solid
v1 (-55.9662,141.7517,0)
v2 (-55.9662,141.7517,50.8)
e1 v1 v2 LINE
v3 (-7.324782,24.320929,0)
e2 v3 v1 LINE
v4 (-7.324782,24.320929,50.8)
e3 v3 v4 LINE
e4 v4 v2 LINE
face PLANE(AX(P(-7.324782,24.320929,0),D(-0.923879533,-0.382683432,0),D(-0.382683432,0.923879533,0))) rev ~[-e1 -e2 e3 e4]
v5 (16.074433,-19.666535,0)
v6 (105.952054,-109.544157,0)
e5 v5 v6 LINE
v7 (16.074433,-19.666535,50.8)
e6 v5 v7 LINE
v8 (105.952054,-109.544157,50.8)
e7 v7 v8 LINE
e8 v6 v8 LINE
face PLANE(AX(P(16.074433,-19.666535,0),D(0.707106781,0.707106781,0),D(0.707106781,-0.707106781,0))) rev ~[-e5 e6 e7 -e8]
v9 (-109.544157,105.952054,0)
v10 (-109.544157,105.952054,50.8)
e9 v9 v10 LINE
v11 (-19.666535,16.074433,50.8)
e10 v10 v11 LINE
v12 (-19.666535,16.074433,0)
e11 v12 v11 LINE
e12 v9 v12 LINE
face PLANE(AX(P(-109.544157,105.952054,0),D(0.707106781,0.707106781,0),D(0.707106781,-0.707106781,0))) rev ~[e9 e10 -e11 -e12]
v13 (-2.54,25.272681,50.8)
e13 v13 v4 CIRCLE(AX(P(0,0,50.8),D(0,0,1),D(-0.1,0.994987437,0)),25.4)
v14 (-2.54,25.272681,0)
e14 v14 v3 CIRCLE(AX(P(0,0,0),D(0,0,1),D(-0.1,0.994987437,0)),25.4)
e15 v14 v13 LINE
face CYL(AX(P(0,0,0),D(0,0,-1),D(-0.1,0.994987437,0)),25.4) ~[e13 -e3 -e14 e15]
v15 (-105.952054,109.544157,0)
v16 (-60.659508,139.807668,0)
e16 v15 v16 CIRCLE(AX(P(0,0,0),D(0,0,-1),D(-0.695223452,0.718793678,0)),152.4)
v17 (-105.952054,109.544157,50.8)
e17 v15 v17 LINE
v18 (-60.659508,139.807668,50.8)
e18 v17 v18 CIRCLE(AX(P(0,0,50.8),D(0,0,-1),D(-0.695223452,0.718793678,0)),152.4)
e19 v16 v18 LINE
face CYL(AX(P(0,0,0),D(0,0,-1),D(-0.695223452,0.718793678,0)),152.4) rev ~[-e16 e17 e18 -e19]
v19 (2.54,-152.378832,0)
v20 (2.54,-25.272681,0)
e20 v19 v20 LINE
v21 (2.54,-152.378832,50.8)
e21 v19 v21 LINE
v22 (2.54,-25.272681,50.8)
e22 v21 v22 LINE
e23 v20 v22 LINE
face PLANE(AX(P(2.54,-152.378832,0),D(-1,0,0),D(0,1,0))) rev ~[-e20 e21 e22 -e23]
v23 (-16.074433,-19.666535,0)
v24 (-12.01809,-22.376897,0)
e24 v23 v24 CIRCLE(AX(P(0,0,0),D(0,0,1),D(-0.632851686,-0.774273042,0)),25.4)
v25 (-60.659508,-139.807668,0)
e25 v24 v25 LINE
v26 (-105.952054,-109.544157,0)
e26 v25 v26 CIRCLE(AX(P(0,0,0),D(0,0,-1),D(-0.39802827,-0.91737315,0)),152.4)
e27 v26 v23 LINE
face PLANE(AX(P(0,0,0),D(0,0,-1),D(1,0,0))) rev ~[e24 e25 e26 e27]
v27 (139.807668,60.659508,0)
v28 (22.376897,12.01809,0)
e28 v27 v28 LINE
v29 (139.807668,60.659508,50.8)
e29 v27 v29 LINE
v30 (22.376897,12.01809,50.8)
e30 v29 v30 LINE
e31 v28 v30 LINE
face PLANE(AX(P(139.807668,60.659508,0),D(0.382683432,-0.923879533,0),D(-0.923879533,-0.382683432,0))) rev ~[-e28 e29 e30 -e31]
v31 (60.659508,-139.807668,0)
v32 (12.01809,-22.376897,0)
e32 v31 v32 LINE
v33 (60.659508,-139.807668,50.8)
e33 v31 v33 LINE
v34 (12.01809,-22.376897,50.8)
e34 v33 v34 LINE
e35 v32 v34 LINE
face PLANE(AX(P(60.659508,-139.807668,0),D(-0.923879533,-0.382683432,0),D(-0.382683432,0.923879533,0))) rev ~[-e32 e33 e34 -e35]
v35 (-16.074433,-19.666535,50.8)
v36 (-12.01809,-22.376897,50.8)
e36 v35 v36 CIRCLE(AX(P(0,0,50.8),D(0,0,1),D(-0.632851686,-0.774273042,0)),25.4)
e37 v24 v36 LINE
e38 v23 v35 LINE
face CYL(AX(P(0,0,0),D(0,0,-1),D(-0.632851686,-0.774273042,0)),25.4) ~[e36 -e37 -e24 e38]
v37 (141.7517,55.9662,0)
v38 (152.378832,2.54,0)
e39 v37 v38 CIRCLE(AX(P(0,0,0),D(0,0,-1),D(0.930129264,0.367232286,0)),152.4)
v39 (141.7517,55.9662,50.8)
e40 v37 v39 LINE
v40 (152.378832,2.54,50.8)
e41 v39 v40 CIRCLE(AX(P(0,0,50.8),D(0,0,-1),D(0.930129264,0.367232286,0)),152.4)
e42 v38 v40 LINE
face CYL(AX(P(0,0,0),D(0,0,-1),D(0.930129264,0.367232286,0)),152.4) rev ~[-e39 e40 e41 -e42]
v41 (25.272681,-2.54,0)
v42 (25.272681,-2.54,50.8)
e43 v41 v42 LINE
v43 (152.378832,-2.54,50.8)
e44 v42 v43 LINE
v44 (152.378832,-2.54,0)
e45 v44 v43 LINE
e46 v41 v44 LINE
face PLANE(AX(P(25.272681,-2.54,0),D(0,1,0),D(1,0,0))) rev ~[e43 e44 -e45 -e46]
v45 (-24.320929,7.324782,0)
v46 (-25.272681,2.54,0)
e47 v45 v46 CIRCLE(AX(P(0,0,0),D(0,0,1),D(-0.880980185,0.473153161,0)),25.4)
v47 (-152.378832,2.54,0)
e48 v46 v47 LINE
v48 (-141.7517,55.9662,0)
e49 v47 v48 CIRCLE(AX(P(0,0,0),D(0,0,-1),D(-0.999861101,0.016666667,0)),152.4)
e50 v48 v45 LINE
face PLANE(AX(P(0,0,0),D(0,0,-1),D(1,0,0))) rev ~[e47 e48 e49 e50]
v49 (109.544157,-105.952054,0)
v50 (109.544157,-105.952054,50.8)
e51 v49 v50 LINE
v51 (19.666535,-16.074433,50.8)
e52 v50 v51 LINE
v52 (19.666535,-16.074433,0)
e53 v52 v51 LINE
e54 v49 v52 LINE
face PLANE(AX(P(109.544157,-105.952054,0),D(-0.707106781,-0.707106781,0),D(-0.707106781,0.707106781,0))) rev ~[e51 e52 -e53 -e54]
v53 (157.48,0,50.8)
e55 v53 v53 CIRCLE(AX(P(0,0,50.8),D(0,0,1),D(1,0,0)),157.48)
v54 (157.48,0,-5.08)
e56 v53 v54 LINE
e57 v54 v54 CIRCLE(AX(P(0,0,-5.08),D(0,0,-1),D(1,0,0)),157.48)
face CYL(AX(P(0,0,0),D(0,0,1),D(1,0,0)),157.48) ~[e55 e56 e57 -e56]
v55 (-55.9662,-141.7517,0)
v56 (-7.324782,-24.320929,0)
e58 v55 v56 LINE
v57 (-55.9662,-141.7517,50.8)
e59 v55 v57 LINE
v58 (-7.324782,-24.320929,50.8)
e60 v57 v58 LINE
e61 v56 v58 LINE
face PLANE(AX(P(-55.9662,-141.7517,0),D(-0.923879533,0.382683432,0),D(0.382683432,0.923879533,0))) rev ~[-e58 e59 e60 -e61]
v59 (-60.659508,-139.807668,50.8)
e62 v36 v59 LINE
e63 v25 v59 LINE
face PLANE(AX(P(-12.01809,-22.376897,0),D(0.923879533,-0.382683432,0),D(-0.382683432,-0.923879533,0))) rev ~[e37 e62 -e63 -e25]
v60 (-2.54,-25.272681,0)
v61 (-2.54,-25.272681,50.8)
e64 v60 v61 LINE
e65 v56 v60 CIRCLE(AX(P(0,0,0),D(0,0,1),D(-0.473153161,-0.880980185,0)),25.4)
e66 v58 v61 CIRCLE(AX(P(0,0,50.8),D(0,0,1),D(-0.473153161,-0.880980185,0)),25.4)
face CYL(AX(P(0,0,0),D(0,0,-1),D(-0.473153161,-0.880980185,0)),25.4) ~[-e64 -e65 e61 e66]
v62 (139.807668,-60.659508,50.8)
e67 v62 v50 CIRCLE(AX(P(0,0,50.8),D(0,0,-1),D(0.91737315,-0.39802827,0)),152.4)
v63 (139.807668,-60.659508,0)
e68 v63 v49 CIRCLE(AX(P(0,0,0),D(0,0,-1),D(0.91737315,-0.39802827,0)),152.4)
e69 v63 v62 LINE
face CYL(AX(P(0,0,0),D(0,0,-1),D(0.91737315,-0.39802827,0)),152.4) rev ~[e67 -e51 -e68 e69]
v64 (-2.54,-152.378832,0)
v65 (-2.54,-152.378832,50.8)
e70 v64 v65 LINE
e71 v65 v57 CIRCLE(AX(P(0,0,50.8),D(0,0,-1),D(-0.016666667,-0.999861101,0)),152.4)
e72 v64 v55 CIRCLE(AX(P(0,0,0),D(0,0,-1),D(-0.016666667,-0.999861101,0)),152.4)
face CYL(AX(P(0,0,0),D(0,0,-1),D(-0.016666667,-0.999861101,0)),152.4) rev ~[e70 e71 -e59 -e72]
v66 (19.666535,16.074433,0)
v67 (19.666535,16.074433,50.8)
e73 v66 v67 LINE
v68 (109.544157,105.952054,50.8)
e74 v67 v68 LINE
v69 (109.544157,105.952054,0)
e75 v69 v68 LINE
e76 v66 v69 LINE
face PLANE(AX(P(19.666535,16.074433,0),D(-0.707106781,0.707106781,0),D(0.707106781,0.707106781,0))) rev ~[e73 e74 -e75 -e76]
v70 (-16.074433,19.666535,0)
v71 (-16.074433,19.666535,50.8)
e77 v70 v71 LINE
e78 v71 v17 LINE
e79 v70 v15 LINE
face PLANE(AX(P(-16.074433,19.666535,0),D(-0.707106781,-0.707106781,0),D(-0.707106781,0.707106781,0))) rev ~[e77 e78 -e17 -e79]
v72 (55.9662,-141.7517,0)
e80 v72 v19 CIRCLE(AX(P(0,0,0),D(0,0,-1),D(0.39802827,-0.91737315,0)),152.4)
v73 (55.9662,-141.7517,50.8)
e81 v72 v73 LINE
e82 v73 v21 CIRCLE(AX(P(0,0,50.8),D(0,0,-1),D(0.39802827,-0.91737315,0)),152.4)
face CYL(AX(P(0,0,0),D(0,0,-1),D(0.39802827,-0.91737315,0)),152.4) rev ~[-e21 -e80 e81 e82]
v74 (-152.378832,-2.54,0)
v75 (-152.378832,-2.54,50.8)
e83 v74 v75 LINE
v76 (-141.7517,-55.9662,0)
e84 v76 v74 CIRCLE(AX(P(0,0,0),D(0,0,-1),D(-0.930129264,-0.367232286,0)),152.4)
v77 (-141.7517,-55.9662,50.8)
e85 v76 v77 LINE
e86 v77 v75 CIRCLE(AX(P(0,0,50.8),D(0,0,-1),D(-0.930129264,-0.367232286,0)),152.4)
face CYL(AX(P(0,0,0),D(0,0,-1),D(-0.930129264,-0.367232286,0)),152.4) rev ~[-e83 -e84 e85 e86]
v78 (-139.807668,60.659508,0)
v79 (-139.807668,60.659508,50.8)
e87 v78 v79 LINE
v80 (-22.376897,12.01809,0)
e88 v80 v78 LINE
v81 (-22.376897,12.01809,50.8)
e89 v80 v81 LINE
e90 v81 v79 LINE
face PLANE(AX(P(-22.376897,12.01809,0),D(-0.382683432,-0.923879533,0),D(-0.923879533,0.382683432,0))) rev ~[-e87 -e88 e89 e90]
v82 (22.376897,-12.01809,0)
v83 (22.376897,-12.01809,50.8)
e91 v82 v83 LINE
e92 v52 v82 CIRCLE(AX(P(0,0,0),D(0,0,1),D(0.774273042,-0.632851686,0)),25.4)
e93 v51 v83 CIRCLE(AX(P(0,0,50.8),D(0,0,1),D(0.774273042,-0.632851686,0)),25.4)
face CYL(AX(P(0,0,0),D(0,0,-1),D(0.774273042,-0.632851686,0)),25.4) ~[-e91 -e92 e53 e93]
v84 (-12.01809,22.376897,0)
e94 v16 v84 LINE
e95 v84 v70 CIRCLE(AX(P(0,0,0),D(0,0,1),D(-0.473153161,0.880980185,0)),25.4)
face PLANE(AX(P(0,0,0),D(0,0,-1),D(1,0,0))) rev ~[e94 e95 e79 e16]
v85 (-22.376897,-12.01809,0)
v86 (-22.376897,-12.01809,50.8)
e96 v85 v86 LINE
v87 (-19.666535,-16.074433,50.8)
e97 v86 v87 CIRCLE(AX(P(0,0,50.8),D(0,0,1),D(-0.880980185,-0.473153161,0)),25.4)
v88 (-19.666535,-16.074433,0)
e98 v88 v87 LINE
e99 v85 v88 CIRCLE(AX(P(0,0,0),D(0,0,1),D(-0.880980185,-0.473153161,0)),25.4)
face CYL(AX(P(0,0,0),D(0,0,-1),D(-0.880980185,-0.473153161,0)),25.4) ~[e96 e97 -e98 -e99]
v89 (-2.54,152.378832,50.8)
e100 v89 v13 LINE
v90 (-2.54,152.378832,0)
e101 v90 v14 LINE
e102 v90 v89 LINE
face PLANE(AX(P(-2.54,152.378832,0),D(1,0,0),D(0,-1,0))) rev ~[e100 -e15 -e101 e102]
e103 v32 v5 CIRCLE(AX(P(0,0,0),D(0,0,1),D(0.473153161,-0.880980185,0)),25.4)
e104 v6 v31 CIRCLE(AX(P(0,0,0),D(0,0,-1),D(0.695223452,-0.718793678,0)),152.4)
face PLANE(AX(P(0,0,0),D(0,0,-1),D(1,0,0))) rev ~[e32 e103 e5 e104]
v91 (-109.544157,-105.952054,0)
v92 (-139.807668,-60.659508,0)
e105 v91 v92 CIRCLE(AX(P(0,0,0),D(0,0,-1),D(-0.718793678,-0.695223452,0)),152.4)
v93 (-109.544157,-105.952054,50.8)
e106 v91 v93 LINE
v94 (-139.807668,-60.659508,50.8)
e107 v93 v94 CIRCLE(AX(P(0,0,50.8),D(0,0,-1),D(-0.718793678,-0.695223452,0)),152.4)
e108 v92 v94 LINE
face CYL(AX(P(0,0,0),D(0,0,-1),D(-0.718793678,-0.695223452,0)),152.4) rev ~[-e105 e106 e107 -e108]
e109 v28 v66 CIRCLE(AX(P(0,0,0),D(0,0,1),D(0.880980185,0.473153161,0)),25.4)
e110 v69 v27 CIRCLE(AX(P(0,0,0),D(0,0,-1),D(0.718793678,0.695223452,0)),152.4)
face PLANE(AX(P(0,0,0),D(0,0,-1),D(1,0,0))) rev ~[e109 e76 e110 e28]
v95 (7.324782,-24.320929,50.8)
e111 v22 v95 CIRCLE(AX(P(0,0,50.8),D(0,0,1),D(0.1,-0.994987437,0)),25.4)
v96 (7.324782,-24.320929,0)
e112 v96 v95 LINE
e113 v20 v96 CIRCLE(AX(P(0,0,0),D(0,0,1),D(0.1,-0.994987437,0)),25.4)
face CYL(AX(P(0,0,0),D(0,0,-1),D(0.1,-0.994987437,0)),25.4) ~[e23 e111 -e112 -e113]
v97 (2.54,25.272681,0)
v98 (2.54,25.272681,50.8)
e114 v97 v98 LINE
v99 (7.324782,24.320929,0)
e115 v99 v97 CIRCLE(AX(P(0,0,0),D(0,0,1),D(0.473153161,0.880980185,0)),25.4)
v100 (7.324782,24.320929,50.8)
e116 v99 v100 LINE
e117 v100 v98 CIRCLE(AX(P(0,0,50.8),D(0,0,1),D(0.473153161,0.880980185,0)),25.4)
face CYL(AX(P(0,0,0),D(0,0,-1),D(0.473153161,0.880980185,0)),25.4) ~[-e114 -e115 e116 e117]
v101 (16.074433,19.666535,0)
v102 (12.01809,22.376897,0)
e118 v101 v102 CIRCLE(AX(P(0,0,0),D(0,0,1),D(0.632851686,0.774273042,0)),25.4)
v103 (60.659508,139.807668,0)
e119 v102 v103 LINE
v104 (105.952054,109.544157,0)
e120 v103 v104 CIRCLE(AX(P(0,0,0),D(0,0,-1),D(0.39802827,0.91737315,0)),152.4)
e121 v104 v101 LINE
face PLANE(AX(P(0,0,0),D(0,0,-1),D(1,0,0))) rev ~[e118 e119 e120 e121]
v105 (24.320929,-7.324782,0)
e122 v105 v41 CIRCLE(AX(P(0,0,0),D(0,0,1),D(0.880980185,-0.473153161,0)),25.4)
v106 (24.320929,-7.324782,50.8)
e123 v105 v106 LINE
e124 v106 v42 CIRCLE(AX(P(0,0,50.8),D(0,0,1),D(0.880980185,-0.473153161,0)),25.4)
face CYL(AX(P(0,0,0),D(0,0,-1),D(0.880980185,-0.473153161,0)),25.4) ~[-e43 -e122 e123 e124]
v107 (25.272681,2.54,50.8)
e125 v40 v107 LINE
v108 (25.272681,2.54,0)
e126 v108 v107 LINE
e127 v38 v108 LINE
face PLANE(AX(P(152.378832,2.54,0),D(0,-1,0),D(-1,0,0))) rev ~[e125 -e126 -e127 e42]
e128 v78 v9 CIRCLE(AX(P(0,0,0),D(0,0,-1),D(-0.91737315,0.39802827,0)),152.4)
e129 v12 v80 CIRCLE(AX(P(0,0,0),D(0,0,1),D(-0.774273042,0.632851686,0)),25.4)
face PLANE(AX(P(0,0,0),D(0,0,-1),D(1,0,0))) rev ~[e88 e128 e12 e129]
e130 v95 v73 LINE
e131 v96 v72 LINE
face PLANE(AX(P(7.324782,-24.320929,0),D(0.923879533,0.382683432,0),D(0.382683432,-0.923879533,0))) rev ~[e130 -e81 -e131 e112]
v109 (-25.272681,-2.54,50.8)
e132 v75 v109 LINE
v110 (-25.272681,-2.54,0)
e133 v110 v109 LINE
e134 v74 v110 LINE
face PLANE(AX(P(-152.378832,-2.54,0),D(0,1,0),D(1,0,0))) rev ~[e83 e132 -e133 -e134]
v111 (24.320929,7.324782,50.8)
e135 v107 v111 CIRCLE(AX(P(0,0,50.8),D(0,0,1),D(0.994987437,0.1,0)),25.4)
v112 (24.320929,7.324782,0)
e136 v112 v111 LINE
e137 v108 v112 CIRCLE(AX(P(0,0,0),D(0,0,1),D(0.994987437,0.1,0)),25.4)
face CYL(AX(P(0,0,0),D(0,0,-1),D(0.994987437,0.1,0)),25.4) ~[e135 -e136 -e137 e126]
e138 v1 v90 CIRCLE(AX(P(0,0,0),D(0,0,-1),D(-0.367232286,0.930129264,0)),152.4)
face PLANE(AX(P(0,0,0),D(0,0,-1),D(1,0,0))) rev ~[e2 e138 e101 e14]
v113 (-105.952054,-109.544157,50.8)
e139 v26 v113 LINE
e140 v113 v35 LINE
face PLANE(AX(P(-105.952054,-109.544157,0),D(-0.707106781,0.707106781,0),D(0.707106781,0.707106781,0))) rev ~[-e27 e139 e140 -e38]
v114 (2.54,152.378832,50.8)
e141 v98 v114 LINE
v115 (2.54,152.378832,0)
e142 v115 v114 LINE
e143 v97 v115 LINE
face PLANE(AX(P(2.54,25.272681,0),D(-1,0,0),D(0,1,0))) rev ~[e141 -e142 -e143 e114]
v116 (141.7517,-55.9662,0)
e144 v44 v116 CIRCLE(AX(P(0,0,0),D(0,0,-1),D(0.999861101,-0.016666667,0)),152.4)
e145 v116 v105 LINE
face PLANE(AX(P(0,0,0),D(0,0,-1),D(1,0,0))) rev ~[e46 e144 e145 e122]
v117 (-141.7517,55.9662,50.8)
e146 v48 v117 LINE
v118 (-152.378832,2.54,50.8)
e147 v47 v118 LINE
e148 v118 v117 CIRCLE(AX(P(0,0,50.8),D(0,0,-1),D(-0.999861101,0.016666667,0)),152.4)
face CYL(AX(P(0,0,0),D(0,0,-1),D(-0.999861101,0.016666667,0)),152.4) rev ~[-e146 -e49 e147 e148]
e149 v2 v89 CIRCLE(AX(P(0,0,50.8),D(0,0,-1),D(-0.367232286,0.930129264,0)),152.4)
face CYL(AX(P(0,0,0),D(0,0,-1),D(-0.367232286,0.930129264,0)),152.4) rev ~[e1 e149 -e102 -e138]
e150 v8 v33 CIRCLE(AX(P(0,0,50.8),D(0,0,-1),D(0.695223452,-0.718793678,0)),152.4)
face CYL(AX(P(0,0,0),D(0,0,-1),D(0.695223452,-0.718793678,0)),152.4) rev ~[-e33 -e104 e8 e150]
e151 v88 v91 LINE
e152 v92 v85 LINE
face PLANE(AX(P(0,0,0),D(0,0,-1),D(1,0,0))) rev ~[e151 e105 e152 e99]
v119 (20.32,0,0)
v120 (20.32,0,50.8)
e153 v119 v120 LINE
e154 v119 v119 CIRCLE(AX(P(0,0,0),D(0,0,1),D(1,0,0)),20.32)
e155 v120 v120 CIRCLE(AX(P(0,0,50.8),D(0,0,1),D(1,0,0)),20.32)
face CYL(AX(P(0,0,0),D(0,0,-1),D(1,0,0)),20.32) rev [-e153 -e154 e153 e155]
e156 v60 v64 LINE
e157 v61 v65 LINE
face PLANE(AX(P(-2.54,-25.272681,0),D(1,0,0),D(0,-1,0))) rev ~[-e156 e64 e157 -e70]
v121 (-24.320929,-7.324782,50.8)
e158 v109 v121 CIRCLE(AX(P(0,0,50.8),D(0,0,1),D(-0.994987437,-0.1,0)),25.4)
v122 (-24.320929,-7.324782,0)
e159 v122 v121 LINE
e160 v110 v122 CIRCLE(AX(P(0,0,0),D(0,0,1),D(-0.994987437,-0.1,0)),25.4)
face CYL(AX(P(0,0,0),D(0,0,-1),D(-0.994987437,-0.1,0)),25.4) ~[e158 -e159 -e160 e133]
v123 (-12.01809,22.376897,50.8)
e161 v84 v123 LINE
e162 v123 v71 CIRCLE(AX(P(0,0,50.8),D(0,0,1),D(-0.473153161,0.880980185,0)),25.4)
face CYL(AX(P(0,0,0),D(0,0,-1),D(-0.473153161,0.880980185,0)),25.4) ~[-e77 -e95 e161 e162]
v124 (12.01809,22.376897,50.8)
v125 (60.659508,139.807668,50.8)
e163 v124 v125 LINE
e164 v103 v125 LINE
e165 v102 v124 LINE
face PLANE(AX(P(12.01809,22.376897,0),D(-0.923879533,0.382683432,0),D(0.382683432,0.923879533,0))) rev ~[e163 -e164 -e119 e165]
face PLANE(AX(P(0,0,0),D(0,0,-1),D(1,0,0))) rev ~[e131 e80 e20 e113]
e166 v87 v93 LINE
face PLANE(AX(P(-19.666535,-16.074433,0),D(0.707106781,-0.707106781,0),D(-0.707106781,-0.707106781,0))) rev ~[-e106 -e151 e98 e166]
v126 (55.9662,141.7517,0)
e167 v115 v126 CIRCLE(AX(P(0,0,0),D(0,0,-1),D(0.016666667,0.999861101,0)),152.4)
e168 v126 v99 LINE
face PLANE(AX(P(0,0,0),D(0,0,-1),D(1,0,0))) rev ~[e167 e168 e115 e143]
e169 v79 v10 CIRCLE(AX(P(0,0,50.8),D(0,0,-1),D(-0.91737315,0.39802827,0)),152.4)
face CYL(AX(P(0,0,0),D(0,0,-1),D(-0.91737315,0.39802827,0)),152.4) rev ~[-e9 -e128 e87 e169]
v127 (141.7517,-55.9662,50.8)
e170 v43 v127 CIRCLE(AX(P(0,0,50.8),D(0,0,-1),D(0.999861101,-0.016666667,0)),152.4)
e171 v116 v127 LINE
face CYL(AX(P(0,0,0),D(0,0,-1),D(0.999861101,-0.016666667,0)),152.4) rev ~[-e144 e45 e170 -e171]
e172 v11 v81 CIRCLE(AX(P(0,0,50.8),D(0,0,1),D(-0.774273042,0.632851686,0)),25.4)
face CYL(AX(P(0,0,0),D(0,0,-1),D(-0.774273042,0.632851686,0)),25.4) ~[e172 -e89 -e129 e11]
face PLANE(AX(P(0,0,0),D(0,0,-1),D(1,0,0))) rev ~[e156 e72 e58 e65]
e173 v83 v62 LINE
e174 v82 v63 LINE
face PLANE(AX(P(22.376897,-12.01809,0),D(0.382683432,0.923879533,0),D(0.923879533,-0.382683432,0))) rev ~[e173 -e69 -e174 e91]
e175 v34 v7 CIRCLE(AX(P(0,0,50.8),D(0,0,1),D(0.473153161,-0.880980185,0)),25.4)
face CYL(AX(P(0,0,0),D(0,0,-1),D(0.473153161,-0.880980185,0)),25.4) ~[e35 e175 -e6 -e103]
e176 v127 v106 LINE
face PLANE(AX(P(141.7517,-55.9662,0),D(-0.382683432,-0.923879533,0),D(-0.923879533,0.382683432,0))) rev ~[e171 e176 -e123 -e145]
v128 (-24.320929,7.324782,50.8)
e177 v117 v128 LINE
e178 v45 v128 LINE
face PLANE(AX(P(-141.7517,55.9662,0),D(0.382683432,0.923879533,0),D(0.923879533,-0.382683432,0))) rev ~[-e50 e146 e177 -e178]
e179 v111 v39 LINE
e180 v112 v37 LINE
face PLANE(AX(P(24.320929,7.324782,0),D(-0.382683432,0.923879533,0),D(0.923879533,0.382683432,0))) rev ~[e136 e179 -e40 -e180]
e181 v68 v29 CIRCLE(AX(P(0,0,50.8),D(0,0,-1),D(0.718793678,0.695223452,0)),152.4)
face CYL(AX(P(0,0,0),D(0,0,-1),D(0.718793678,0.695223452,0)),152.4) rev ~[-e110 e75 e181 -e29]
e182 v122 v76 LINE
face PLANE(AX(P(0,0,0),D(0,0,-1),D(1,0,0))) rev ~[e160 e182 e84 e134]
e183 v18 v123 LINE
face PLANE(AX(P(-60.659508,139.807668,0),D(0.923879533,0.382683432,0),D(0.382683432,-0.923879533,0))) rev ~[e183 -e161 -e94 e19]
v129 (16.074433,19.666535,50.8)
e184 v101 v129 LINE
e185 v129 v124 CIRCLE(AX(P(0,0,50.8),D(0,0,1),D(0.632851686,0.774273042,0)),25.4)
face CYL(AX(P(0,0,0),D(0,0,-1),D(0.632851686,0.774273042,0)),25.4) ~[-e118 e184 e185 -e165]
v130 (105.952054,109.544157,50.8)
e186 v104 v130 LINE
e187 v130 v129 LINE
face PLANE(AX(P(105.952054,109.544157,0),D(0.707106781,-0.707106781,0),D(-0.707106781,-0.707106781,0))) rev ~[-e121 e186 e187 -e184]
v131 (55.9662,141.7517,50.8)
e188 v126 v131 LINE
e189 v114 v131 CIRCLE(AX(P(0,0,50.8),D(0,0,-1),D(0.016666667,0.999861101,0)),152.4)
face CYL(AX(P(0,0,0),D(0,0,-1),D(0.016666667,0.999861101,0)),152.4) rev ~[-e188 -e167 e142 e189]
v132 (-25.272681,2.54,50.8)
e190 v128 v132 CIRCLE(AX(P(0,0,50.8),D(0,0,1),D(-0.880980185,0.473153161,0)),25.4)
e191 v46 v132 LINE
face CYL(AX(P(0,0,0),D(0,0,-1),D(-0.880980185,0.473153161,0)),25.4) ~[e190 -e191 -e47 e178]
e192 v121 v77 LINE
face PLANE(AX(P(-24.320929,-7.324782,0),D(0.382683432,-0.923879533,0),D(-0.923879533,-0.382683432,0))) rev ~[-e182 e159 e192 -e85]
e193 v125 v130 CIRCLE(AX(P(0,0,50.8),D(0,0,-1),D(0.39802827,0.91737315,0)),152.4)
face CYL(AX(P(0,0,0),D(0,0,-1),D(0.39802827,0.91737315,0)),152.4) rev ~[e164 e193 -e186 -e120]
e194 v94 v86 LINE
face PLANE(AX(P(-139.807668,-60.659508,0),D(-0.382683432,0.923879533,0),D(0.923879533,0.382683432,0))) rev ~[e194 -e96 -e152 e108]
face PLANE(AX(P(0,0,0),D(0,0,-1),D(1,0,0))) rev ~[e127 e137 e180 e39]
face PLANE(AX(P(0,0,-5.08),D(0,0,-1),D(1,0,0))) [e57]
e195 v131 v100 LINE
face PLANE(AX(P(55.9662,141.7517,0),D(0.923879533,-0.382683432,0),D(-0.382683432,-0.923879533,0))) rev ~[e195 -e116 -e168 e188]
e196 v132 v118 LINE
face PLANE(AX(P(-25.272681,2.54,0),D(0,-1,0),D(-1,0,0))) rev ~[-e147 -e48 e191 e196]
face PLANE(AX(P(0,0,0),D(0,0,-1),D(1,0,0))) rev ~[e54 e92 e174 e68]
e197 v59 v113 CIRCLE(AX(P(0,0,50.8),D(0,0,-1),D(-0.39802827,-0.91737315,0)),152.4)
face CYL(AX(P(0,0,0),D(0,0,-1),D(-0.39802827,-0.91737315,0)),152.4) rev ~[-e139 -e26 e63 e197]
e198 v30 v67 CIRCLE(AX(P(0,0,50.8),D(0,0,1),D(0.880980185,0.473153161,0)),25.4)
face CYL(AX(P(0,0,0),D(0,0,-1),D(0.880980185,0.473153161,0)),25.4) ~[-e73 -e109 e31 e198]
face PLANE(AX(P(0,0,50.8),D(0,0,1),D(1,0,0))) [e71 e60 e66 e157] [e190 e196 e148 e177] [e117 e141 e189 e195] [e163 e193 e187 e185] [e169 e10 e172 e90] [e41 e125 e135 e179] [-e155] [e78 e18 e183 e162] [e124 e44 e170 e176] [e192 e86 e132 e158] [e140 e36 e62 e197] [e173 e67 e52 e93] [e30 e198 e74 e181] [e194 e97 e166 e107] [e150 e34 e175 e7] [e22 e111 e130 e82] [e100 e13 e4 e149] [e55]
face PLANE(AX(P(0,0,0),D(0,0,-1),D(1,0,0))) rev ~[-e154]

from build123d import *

# Parameters (mm, degrees)
F0_R     = 157.48
F0_R_2   = 20.32
F1_DEPTH = 50.8
F2_R     = 157.48
F3_DEPTH = 5.08


with BuildPart() as f1:
    # F0 (on Top) → F1 (new body)
    with BuildSketch(Plane.XY):
        Circle(F0_R)
        with BuildLine():
            ThreePointArc((152.3788318632, 2.54), (152.3947078739, 1.2700441026), (152.4, 0))
            ThreePointArc((152.4, 0), (152.3947078739, -1.2700441026), (152.3788318632, -2.54))
            ThreePointArc((152.3788318632, -2.54), (149.4716767335, -29.7317650753), (141.7516998646, -55.9662003846))
            ThreePointArc((141.7516998646, -55.9662003846), (140.7992407547, -58.3209550924), (139.8076680282, -60.6595084097))
            ThreePointArc((139.8076680282, -60.6595084097), (126.7159689149, -84.6689035121), (109.544156544, -105.9520540955))
            ThreePointArc((109.544156544, -105.9520540955), (107.7630734528, -107.7630734528), (105.9520540956, -109.544156544))
            ThreePointArc((105.9520540956, -109.544156544), (84.6689035122, -126.7159689149), (60.6595084097, -139.8076680282))
            ThreePointArc((60.6595084097, -139.8076680282), (58.3209550924, -140.7992407547), (55.9662003846, -141.7516998646))
            ThreePointArc((55.9662003846, -141.7516998646), (29.7317650753, -149.4716767335), (2.54, -152.3788318632))
            ThreePointArc((2.54, -152.3788318632), (0, -152.4), (-2.54, -152.3788318632))
            ThreePointArc((-2.54, -152.3788318632), (-29.7317650753, -149.4716767335), (-55.9662003846, -141.7516998646))
            ThreePointArc((-55.9662003846, -141.7516998646), (-58.3209550924, -140.7992407547), (-60.6595084098, -139.8076680282))
            ThreePointArc((-60.6595084098, -139.8076680282), (-84.6689035122, -126.7159689149), (-105.9520540955, -109.544156544))
            ThreePointArc((-105.9520540955, -109.544156544), (-107.7630734528, -107.7630734528), (-109.544156544, -105.9520540955))
            ThreePointArc((-109.544156544, -105.9520540955), (-126.7159689149, -84.6689035122), (-139.8076680282, -60.6595084098))
            ThreePointArc((-139.8076680282, -60.6595084098), (-140.7992407547, -58.3209550924), (-141.7516998646, -55.9662003846))
            ThreePointArc((-141.7516998646, -55.9662003846), (-149.4716767335, -29.7317650752), (-152.3788318632, -2.54))
            ThreePointArc((-152.3788318632, -2.54), (-152.4, 0), (-152.3788318632, 2.54))
            ThreePointArc((-152.3788318632, 2.54), (-149.4716767335, 29.7317650752), (-141.7516998646, 55.9662003846))
            ThreePointArc((-141.7516998646, 55.9662003846), (-140.7992407547, 58.3209550924), (-139.8076680282, 60.6595084098))
            ThreePointArc((-139.8076680282, 60.6595084098), (-126.7159689149, 84.6689035122), (-109.544156544, 105.9520540955))
            ThreePointArc((-109.544156544, 105.9520540955), (-107.7630734529, 107.7630734528), (-105.9520540956, 109.544156544))
            ThreePointArc((-105.9520540956, 109.544156544), (-84.6689035122, 126.7159689149), (-60.6595084098, 139.8076680282))
            ThreePointArc((-60.6595084098, 139.8076680282), (-58.3209550924, 140.7992407547), (-55.9662003846, 141.7516998646))
            ThreePointArc((-55.9662003846, 141.7516998646), (-29.7317650752, 149.4716767335), (-2.54, 152.3788318632))
            ThreePointArc((-2.54, 152.3788318632), (0, 152.4), (2.54, 152.3788318632))
            ThreePointArc((2.54, 152.3788318632), (29.7317650752, 149.4716767335), (55.9662003846, 141.7516998646))
            ThreePointArc((55.9662003846, 141.7516998646), (58.3209550924, 140.7992407547), (60.6595084098, 139.8076680282))
            ThreePointArc((60.6595084098, 139.8076680282), (84.6689035122, 126.7159689149), (105.9520540956, 109.544156544))
            ThreePointArc((105.9520540956, 109.544156544), (107.7630734528, 107.7630734528), (109.544156544, 105.9520540956))
            ThreePointArc((109.544156544, 105.9520540956), (126.7159689149, 84.6689035122), (139.8076680282, 60.6595084098))
            ThreePointArc((139.8076680282, 60.6595084098), (140.7992407547, 58.3209550924), (141.7516998646, 55.9662003846))
            ThreePointArc((141.7516998646, 55.9662003846), (149.4716767335, 29.7317650753), (152.3788318632, 2.54))
        make_face(mode=Mode.SUBTRACT)
        with BuildLine():
            Line((-7.3247822603, 24.3209285357), (-55.9662003846, 141.7516998646))
            ThreePointArc((-55.9662003846, 141.7516998646), (-58.3209550924, 140.7992407547), (-60.6595084098, 139.8076680282))
            Line((-60.6595084098, 139.8076680282), (-12.0180902854, 22.3768966993))
            ThreePointArc((-12.0180902854, 22.3768966993), (-9.7201591821, 23.4665401258), (-7.3247822603, 24.3209285357))
        make_face()
        with BuildLine():
            Line((-16.0744328207, 19.6665352691), (-105.9520540956, 109.5441565439))
            ThreePointArc((-105.9520540956, 109.544156544), (-107.7630734529, 107.7630734528), (-109.544156544, 105.9520540955))
            Line((-109.544156544, 105.9520540955), (-19.6665352691, 16.0744328207))
            ThreePointArc((-19.6665352691, 16.0744328207), (-17.9605122421, 17.9605122421), (-16.0744328207, 19.6665352691))
        make_face()
        with BuildLine():
            Line((-22.3768966993, 12.0180902854), (-139.8076680282, 60.6595084098))
            ThreePointArc((-139.8076680282, 60.6595084098), (-140.7992407547, 58.3209550924), (-141.7516998646, 55.9662003846))
            Line((-141.7516998646, 55.9662003846), (-24.3209285357, 7.3247822603))
            ThreePointArc((-24.3209285357, 7.3247822603), (-23.4665401258, 9.7201591821), (-22.3768966993, 12.0180902854))
        make_face()
        with BuildLine():
            Line((-25.2726809025, 2.54), (-152.3788318632, 2.54))
            ThreePointArc((-152.3788318632, 2.54), (-152.4, 0), (-152.3788318632, -2.54))
            Line((-152.3788318632, -2.54), (-25.2726809025, -2.54))
            ThreePointArc((-25.2726809025, -2.54), (-25.4, 0), (-25.2726809025, 2.54))
        make_face()
        with BuildLine():
            ThreePointArc((-141.7516998646, -55.9662003846), (-140.7992407547, -58.3209550924), (-139.8076680282, -60.6595084098))
            Line((-139.8076680282, -60.6595084098), (-22.3768966993, -12.0180902854))
            ThreePointArc((-22.3768966993, -12.0180902854), (-23.4665401258, -9.7201591821), (-24.3209285357, -7.3247822603))
            Line((-24.3209285357, -7.3247822603), (-141.7516998646, -55.9662003846))
        make_face()
        with BuildLine():
            ThreePointArc((-109.544156544, -105.9520540955), (-107.7630734528, -107.7630734528), (-105.9520540955, -109.544156544))
            Line((-105.9520540955, -109.544156544), (-16.0744328207, -19.6665352692))
            ThreePointArc((-16.0744328207, -19.6665352692), (-17.9605122421, -17.9605122421), (-19.6665352691, -16.0744328207))
            Line((-19.6665352691, -16.0744328207), (-109.544156544, -105.9520540955))
        make_face()
        with BuildLine():
            ThreePointArc((-60.6595084098, -139.8076680282), (-58.3209550924, -140.7992407547), (-55.9662003846, -141.7516998646))
            Line((-55.9662003846, -141.7516998646), (-7.3247822603, -24.3209285357))
            ThreePointArc((-7.3247822603, -24.3209285357), (-9.7201591821, -23.4665401258), (-12.0180902854, -22.3768966993))
            Line((-12.0180902854, -22.3768966993), (-60.6595084098, -139.8076680282))
        make_face()
        with BuildLine():
            ThreePointArc((-2.54, -152.3788318632), (0, -152.4), (2.54, -152.3788318632))
            Line((2.54, -152.3788318632), (2.54, -25.2726809025))
            ThreePointArc((2.54, -25.2726809025), (0, -25.4), (-2.54, -25.2726809025))
            Line((-2.54, -25.2726809025), (-2.54, -152.3788318632))
        make_face()
        with BuildLine():
            ThreePointArc((55.9662003846, -141.7516998646), (58.3209550924, -140.7992407547), (60.6595084097, -139.8076680282))
            Line((60.6595084097, -139.8076680282), (12.0180902854, -22.3768966993))
            ThreePointArc((12.0180902854, -22.3768966993), (9.7201591821, -23.4665401258), (7.3247822603, -24.3209285357))
            Line((7.3247822603, -24.3209285357), (55.9662003846, -141.7516998646))
        make_face()
        with BuildLine():
            ThreePointArc((105.9520540956, -109.544156544), (107.7630734528, -107.7630734528), (109.544156544, -105.9520540955))
            Line((109.544156544, -105.9520540955), (19.6665352691, -16.0744328207))
            ThreePointArc((19.6665352691, -16.0744328207), (17.9605122421, -17.9605122421), (16.0744328207, -19.6665352691))
            Line((16.0744328207, -19.6665352691), (105.9520540956, -109.544156544))
        make_face()
        with BuildLine():
            ThreePointArc((139.8076680282, -60.6595084097), (140.7992407547, -58.3209550924), (141.7516998646, -55.9662003846))
            Line((141.7516998646, -55.9662003846), (24.3209285357, -7.3247822603))
            ThreePointArc((24.3209285357, -7.3247822603), (23.4665401258, -9.7201591821), (22.3768966993, -12.0180902854))
            Line((22.3768966993, -12.0180902854), (139.8076680282, -60.6595084097))
        make_face()
        with BuildLine():
            ThreePointArc((152.3788318632, -2.54), (152.3947078739, -1.2700441026), (152.4, 0))
            ThreePointArc((152.4, 0), (152.3947078739, 1.2700441026), (152.3788318632, 2.54))
            Line((152.3788318632, 2.54), (25.2726809025, 2.54))
            ThreePointArc((25.2726809025, 2.54), (25.368150257, 1.2715944865), (25.4, 0))
            ThreePointArc((25.4, 0), (25.368150257, -1.2715944865), (25.2726809025, -2.54))
            Line((25.2726809025, -2.54), (152.3788318632, -2.54))
        make_face()
        with BuildLine():
            Line((24.3209285357, 7.3247822603), (141.7516998646, 55.9662003846))
            ThreePointArc((141.7516998646, 55.9662003846), (140.7992407547, 58.3209550924), (139.8076680282, 60.6595084098))
            Line((139.8076680282, 60.6595084098), (22.3768966993, 12.0180902854))
            ThreePointArc((22.3768966993, 12.0180902854), (23.4665401258, 9.7201591821), (24.3209285357, 7.3247822603))
        make_face()
        with BuildLine():
            Line((19.6665352691, 16.0744328207), (109.544156544, 105.9520540956))
            ThreePointArc((109.544156544, 105.9520540956), (107.7630734528, 107.7630734528), (105.9520540956, 109.544156544))
            Line((105.9520540956, 109.544156544), (16.0744328207, 19.6665352691))
            ThreePointArc((16.0744328207, 19.6665352691), (17.9605122421, 17.9605122421), (19.6665352691, 16.0744328207))
        make_face()
        with BuildLine():
            Line((12.0180902854, 22.3768966993), (60.6595084098, 139.8076680282))
            ThreePointArc((60.6595084098, 139.8076680282), (58.3209550924, 140.7992407547), (55.9662003846, 141.7516998646))
            Line((55.9662003846, 141.7516998646), (7.3247822603, 24.3209285357))
            ThreePointArc((7.3247822603, 24.3209285357), (9.7201591821, 23.4665401258), (12.0180902854, 22.3768966993))
        make_face()
        with BuildLine():
            Line((2.54, 25.2726809025), (2.54, 152.3788318632))
            ThreePointArc((2.54, 152.3788318632), (0, 152.4), (-2.54, 152.3788318632))
            Line((-2.54, 152.3788318632), (-2.54, 25.2726809025))
            ThreePointArc((-2.54, 25.2726809025), (0, 25.4), (2.54, 25.2726809025))
        make_face()
        with BuildLine():
            ThreePointArc((25.4, 0), (25.368150257, 1.2715944865), (25.2726809025, 2.54))
            ThreePointArc((25.2726809025, 2.54), (24.9119461222, 4.9552941792), (24.3209285357, 7.3247822603))
            ThreePointArc((24.3209285357, 7.3247822603), (23.4665401258, 9.7201591821), (22.3768966993, 12.0180902854))
            ThreePointArc((22.3768966993, 12.0180902854), (21.1193281525, 14.1114839187), (19.6665352691, 16.0744328207))
            ThreePointArc((19.6665352691, 16.0744328207), (17.9605122421, 17.9605122421), (16.0744328207, 19.6665352691))
            ThreePointArc((16.0744328207, 19.6665352691), (14.1114839187, 21.1193281525), (12.0180902854, 22.3768966993))
            ThreePointArc((12.0180902854, 22.3768966993), (9.7201591821, 23.4665401258), (7.3247822603, 24.3209285357))
            ThreePointArc((7.3247822603, 24.3209285357), (4.9552941792, 24.9119461222), (2.54, 25.2726809025))
            ThreePointArc((2.54, 25.2726809025), (0, 25.4), (-2.54, 25.2726809025))
            ThreePointArc((-2.54, 25.2726809025), (-4.9552941792, 24.9119461222), (-7.3247822603, 24.3209285357))
            ThreePointArc((-7.3247822603, 24.3209285357), (-9.7201591821, 23.4665401258), (-12.0180902854, 22.3768966993))
            ThreePointArc((-12.0180902854, 22.3768966993), (-14.1114839187, 21.1193281525), (-16.0744328207, 19.6665352691))
            ThreePointArc((-16.0744328207, 19.6665352691), (-17.9605122421, 17.9605122421), (-19.6665352691, 16.0744328207))
            ThreePointArc((-19.6665352691, 16.0744328207), (-21.1193281525, 14.1114839187), (-22.3768966993, 12.0180902854))
            ThreePointArc((-22.3768966993, 12.0180902854), (-23.4665401258, 9.7201591821), (-24.3209285357, 7.3247822603))
            ThreePointArc((-24.3209285357, 7.3247822603), (-24.9119461222, 4.9552941792), (-25.2726809025, 2.54))
            ThreePointArc((-25.2726809025, 2.54), (-25.4, 0), (-25.2726809025, -2.54))
            ThreePointArc((-25.2726809025, -2.54), (-24.9119461222, -4.9552941792), (-24.3209285357, -7.3247822603))
            ThreePointArc((-24.3209285357, -7.3247822603), (-23.4665401258, -9.7201591821), (-22.3768966993, -12.0180902854))
            ThreePointArc((-22.3768966993, -12.0180902854), (-21.1193281525, -14.1114839187), (-19.6665352691, -16.0744328207))
            ThreePointArc((-19.6665352691, -16.0744328207), (-17.9605122421, -17.9605122421), (-16.0744328207, -19.6665352692))
            ThreePointArc((-16.0744328207, -19.6665352692), (-14.1114839187, -21.1193281525), (-12.0180902854, -22.3768966993))
            ThreePointArc((-12.0180902854, -22.3768966993), (-9.7201591821, -23.4665401258), (-7.3247822603, -24.3209285357))
            ThreePointArc((-7.3247822603, -24.3209285357), (-4.9552941792, -24.9119461222), (-2.54, -25.2726809025))
            ThreePointArc((-2.54, -25.2726809025), (0, -25.4), (2.54, -25.2726809025))
            ThreePointArc((2.54, -25.2726809025), (4.9552941792, -24.9119461222), (7.3247822603, -24.3209285357))
            ThreePointArc((7.3247822603, -24.3209285357), (9.7201591821, -23.4665401258), (12.0180902854, -22.3768966993))
            ThreePointArc((12.0180902854, -22.3768966993), (14.1114839187, -21.1193281525), (16.0744328207, -19.6665352691))
            ThreePointArc((16.0744328207, -19.6665352691), (17.9605122421, -17.9605122421), (19.6665352691, -16.0744328207))
            ThreePointArc((19.6665352691, -16.0744328207), (21.1193281525, -14.1114839187), (22.3768966993, -12.0180902854))
            ThreePointArc((22.3768966993, -12.0180902854), (23.4665401258, -9.7201591821), (24.3209285357, -7.3247822603))
            ThreePointArc((24.3209285357, -7.3247822603), (24.9119461222, -4.9552941792), (25.2726809025, -2.54))
            ThreePointArc((25.2726809025, -2.54), (25.368150257, -1.2715944865), (25.4, 0))
        make_face()
        Circle(F0_R_2, mode=Mode.SUBTRACT)
    extrude(amount=F1_DEPTH)

    # F2 (on face) → F3 (join)
    with BuildSketch(Plane(origin=(0, 0, 0), x_dir=(1, 0, 0), z_dir=(0, 0, -1))):
        Circle(F2_R)
    extrude(amount=F3_DEPTH)


solid = f1.part
